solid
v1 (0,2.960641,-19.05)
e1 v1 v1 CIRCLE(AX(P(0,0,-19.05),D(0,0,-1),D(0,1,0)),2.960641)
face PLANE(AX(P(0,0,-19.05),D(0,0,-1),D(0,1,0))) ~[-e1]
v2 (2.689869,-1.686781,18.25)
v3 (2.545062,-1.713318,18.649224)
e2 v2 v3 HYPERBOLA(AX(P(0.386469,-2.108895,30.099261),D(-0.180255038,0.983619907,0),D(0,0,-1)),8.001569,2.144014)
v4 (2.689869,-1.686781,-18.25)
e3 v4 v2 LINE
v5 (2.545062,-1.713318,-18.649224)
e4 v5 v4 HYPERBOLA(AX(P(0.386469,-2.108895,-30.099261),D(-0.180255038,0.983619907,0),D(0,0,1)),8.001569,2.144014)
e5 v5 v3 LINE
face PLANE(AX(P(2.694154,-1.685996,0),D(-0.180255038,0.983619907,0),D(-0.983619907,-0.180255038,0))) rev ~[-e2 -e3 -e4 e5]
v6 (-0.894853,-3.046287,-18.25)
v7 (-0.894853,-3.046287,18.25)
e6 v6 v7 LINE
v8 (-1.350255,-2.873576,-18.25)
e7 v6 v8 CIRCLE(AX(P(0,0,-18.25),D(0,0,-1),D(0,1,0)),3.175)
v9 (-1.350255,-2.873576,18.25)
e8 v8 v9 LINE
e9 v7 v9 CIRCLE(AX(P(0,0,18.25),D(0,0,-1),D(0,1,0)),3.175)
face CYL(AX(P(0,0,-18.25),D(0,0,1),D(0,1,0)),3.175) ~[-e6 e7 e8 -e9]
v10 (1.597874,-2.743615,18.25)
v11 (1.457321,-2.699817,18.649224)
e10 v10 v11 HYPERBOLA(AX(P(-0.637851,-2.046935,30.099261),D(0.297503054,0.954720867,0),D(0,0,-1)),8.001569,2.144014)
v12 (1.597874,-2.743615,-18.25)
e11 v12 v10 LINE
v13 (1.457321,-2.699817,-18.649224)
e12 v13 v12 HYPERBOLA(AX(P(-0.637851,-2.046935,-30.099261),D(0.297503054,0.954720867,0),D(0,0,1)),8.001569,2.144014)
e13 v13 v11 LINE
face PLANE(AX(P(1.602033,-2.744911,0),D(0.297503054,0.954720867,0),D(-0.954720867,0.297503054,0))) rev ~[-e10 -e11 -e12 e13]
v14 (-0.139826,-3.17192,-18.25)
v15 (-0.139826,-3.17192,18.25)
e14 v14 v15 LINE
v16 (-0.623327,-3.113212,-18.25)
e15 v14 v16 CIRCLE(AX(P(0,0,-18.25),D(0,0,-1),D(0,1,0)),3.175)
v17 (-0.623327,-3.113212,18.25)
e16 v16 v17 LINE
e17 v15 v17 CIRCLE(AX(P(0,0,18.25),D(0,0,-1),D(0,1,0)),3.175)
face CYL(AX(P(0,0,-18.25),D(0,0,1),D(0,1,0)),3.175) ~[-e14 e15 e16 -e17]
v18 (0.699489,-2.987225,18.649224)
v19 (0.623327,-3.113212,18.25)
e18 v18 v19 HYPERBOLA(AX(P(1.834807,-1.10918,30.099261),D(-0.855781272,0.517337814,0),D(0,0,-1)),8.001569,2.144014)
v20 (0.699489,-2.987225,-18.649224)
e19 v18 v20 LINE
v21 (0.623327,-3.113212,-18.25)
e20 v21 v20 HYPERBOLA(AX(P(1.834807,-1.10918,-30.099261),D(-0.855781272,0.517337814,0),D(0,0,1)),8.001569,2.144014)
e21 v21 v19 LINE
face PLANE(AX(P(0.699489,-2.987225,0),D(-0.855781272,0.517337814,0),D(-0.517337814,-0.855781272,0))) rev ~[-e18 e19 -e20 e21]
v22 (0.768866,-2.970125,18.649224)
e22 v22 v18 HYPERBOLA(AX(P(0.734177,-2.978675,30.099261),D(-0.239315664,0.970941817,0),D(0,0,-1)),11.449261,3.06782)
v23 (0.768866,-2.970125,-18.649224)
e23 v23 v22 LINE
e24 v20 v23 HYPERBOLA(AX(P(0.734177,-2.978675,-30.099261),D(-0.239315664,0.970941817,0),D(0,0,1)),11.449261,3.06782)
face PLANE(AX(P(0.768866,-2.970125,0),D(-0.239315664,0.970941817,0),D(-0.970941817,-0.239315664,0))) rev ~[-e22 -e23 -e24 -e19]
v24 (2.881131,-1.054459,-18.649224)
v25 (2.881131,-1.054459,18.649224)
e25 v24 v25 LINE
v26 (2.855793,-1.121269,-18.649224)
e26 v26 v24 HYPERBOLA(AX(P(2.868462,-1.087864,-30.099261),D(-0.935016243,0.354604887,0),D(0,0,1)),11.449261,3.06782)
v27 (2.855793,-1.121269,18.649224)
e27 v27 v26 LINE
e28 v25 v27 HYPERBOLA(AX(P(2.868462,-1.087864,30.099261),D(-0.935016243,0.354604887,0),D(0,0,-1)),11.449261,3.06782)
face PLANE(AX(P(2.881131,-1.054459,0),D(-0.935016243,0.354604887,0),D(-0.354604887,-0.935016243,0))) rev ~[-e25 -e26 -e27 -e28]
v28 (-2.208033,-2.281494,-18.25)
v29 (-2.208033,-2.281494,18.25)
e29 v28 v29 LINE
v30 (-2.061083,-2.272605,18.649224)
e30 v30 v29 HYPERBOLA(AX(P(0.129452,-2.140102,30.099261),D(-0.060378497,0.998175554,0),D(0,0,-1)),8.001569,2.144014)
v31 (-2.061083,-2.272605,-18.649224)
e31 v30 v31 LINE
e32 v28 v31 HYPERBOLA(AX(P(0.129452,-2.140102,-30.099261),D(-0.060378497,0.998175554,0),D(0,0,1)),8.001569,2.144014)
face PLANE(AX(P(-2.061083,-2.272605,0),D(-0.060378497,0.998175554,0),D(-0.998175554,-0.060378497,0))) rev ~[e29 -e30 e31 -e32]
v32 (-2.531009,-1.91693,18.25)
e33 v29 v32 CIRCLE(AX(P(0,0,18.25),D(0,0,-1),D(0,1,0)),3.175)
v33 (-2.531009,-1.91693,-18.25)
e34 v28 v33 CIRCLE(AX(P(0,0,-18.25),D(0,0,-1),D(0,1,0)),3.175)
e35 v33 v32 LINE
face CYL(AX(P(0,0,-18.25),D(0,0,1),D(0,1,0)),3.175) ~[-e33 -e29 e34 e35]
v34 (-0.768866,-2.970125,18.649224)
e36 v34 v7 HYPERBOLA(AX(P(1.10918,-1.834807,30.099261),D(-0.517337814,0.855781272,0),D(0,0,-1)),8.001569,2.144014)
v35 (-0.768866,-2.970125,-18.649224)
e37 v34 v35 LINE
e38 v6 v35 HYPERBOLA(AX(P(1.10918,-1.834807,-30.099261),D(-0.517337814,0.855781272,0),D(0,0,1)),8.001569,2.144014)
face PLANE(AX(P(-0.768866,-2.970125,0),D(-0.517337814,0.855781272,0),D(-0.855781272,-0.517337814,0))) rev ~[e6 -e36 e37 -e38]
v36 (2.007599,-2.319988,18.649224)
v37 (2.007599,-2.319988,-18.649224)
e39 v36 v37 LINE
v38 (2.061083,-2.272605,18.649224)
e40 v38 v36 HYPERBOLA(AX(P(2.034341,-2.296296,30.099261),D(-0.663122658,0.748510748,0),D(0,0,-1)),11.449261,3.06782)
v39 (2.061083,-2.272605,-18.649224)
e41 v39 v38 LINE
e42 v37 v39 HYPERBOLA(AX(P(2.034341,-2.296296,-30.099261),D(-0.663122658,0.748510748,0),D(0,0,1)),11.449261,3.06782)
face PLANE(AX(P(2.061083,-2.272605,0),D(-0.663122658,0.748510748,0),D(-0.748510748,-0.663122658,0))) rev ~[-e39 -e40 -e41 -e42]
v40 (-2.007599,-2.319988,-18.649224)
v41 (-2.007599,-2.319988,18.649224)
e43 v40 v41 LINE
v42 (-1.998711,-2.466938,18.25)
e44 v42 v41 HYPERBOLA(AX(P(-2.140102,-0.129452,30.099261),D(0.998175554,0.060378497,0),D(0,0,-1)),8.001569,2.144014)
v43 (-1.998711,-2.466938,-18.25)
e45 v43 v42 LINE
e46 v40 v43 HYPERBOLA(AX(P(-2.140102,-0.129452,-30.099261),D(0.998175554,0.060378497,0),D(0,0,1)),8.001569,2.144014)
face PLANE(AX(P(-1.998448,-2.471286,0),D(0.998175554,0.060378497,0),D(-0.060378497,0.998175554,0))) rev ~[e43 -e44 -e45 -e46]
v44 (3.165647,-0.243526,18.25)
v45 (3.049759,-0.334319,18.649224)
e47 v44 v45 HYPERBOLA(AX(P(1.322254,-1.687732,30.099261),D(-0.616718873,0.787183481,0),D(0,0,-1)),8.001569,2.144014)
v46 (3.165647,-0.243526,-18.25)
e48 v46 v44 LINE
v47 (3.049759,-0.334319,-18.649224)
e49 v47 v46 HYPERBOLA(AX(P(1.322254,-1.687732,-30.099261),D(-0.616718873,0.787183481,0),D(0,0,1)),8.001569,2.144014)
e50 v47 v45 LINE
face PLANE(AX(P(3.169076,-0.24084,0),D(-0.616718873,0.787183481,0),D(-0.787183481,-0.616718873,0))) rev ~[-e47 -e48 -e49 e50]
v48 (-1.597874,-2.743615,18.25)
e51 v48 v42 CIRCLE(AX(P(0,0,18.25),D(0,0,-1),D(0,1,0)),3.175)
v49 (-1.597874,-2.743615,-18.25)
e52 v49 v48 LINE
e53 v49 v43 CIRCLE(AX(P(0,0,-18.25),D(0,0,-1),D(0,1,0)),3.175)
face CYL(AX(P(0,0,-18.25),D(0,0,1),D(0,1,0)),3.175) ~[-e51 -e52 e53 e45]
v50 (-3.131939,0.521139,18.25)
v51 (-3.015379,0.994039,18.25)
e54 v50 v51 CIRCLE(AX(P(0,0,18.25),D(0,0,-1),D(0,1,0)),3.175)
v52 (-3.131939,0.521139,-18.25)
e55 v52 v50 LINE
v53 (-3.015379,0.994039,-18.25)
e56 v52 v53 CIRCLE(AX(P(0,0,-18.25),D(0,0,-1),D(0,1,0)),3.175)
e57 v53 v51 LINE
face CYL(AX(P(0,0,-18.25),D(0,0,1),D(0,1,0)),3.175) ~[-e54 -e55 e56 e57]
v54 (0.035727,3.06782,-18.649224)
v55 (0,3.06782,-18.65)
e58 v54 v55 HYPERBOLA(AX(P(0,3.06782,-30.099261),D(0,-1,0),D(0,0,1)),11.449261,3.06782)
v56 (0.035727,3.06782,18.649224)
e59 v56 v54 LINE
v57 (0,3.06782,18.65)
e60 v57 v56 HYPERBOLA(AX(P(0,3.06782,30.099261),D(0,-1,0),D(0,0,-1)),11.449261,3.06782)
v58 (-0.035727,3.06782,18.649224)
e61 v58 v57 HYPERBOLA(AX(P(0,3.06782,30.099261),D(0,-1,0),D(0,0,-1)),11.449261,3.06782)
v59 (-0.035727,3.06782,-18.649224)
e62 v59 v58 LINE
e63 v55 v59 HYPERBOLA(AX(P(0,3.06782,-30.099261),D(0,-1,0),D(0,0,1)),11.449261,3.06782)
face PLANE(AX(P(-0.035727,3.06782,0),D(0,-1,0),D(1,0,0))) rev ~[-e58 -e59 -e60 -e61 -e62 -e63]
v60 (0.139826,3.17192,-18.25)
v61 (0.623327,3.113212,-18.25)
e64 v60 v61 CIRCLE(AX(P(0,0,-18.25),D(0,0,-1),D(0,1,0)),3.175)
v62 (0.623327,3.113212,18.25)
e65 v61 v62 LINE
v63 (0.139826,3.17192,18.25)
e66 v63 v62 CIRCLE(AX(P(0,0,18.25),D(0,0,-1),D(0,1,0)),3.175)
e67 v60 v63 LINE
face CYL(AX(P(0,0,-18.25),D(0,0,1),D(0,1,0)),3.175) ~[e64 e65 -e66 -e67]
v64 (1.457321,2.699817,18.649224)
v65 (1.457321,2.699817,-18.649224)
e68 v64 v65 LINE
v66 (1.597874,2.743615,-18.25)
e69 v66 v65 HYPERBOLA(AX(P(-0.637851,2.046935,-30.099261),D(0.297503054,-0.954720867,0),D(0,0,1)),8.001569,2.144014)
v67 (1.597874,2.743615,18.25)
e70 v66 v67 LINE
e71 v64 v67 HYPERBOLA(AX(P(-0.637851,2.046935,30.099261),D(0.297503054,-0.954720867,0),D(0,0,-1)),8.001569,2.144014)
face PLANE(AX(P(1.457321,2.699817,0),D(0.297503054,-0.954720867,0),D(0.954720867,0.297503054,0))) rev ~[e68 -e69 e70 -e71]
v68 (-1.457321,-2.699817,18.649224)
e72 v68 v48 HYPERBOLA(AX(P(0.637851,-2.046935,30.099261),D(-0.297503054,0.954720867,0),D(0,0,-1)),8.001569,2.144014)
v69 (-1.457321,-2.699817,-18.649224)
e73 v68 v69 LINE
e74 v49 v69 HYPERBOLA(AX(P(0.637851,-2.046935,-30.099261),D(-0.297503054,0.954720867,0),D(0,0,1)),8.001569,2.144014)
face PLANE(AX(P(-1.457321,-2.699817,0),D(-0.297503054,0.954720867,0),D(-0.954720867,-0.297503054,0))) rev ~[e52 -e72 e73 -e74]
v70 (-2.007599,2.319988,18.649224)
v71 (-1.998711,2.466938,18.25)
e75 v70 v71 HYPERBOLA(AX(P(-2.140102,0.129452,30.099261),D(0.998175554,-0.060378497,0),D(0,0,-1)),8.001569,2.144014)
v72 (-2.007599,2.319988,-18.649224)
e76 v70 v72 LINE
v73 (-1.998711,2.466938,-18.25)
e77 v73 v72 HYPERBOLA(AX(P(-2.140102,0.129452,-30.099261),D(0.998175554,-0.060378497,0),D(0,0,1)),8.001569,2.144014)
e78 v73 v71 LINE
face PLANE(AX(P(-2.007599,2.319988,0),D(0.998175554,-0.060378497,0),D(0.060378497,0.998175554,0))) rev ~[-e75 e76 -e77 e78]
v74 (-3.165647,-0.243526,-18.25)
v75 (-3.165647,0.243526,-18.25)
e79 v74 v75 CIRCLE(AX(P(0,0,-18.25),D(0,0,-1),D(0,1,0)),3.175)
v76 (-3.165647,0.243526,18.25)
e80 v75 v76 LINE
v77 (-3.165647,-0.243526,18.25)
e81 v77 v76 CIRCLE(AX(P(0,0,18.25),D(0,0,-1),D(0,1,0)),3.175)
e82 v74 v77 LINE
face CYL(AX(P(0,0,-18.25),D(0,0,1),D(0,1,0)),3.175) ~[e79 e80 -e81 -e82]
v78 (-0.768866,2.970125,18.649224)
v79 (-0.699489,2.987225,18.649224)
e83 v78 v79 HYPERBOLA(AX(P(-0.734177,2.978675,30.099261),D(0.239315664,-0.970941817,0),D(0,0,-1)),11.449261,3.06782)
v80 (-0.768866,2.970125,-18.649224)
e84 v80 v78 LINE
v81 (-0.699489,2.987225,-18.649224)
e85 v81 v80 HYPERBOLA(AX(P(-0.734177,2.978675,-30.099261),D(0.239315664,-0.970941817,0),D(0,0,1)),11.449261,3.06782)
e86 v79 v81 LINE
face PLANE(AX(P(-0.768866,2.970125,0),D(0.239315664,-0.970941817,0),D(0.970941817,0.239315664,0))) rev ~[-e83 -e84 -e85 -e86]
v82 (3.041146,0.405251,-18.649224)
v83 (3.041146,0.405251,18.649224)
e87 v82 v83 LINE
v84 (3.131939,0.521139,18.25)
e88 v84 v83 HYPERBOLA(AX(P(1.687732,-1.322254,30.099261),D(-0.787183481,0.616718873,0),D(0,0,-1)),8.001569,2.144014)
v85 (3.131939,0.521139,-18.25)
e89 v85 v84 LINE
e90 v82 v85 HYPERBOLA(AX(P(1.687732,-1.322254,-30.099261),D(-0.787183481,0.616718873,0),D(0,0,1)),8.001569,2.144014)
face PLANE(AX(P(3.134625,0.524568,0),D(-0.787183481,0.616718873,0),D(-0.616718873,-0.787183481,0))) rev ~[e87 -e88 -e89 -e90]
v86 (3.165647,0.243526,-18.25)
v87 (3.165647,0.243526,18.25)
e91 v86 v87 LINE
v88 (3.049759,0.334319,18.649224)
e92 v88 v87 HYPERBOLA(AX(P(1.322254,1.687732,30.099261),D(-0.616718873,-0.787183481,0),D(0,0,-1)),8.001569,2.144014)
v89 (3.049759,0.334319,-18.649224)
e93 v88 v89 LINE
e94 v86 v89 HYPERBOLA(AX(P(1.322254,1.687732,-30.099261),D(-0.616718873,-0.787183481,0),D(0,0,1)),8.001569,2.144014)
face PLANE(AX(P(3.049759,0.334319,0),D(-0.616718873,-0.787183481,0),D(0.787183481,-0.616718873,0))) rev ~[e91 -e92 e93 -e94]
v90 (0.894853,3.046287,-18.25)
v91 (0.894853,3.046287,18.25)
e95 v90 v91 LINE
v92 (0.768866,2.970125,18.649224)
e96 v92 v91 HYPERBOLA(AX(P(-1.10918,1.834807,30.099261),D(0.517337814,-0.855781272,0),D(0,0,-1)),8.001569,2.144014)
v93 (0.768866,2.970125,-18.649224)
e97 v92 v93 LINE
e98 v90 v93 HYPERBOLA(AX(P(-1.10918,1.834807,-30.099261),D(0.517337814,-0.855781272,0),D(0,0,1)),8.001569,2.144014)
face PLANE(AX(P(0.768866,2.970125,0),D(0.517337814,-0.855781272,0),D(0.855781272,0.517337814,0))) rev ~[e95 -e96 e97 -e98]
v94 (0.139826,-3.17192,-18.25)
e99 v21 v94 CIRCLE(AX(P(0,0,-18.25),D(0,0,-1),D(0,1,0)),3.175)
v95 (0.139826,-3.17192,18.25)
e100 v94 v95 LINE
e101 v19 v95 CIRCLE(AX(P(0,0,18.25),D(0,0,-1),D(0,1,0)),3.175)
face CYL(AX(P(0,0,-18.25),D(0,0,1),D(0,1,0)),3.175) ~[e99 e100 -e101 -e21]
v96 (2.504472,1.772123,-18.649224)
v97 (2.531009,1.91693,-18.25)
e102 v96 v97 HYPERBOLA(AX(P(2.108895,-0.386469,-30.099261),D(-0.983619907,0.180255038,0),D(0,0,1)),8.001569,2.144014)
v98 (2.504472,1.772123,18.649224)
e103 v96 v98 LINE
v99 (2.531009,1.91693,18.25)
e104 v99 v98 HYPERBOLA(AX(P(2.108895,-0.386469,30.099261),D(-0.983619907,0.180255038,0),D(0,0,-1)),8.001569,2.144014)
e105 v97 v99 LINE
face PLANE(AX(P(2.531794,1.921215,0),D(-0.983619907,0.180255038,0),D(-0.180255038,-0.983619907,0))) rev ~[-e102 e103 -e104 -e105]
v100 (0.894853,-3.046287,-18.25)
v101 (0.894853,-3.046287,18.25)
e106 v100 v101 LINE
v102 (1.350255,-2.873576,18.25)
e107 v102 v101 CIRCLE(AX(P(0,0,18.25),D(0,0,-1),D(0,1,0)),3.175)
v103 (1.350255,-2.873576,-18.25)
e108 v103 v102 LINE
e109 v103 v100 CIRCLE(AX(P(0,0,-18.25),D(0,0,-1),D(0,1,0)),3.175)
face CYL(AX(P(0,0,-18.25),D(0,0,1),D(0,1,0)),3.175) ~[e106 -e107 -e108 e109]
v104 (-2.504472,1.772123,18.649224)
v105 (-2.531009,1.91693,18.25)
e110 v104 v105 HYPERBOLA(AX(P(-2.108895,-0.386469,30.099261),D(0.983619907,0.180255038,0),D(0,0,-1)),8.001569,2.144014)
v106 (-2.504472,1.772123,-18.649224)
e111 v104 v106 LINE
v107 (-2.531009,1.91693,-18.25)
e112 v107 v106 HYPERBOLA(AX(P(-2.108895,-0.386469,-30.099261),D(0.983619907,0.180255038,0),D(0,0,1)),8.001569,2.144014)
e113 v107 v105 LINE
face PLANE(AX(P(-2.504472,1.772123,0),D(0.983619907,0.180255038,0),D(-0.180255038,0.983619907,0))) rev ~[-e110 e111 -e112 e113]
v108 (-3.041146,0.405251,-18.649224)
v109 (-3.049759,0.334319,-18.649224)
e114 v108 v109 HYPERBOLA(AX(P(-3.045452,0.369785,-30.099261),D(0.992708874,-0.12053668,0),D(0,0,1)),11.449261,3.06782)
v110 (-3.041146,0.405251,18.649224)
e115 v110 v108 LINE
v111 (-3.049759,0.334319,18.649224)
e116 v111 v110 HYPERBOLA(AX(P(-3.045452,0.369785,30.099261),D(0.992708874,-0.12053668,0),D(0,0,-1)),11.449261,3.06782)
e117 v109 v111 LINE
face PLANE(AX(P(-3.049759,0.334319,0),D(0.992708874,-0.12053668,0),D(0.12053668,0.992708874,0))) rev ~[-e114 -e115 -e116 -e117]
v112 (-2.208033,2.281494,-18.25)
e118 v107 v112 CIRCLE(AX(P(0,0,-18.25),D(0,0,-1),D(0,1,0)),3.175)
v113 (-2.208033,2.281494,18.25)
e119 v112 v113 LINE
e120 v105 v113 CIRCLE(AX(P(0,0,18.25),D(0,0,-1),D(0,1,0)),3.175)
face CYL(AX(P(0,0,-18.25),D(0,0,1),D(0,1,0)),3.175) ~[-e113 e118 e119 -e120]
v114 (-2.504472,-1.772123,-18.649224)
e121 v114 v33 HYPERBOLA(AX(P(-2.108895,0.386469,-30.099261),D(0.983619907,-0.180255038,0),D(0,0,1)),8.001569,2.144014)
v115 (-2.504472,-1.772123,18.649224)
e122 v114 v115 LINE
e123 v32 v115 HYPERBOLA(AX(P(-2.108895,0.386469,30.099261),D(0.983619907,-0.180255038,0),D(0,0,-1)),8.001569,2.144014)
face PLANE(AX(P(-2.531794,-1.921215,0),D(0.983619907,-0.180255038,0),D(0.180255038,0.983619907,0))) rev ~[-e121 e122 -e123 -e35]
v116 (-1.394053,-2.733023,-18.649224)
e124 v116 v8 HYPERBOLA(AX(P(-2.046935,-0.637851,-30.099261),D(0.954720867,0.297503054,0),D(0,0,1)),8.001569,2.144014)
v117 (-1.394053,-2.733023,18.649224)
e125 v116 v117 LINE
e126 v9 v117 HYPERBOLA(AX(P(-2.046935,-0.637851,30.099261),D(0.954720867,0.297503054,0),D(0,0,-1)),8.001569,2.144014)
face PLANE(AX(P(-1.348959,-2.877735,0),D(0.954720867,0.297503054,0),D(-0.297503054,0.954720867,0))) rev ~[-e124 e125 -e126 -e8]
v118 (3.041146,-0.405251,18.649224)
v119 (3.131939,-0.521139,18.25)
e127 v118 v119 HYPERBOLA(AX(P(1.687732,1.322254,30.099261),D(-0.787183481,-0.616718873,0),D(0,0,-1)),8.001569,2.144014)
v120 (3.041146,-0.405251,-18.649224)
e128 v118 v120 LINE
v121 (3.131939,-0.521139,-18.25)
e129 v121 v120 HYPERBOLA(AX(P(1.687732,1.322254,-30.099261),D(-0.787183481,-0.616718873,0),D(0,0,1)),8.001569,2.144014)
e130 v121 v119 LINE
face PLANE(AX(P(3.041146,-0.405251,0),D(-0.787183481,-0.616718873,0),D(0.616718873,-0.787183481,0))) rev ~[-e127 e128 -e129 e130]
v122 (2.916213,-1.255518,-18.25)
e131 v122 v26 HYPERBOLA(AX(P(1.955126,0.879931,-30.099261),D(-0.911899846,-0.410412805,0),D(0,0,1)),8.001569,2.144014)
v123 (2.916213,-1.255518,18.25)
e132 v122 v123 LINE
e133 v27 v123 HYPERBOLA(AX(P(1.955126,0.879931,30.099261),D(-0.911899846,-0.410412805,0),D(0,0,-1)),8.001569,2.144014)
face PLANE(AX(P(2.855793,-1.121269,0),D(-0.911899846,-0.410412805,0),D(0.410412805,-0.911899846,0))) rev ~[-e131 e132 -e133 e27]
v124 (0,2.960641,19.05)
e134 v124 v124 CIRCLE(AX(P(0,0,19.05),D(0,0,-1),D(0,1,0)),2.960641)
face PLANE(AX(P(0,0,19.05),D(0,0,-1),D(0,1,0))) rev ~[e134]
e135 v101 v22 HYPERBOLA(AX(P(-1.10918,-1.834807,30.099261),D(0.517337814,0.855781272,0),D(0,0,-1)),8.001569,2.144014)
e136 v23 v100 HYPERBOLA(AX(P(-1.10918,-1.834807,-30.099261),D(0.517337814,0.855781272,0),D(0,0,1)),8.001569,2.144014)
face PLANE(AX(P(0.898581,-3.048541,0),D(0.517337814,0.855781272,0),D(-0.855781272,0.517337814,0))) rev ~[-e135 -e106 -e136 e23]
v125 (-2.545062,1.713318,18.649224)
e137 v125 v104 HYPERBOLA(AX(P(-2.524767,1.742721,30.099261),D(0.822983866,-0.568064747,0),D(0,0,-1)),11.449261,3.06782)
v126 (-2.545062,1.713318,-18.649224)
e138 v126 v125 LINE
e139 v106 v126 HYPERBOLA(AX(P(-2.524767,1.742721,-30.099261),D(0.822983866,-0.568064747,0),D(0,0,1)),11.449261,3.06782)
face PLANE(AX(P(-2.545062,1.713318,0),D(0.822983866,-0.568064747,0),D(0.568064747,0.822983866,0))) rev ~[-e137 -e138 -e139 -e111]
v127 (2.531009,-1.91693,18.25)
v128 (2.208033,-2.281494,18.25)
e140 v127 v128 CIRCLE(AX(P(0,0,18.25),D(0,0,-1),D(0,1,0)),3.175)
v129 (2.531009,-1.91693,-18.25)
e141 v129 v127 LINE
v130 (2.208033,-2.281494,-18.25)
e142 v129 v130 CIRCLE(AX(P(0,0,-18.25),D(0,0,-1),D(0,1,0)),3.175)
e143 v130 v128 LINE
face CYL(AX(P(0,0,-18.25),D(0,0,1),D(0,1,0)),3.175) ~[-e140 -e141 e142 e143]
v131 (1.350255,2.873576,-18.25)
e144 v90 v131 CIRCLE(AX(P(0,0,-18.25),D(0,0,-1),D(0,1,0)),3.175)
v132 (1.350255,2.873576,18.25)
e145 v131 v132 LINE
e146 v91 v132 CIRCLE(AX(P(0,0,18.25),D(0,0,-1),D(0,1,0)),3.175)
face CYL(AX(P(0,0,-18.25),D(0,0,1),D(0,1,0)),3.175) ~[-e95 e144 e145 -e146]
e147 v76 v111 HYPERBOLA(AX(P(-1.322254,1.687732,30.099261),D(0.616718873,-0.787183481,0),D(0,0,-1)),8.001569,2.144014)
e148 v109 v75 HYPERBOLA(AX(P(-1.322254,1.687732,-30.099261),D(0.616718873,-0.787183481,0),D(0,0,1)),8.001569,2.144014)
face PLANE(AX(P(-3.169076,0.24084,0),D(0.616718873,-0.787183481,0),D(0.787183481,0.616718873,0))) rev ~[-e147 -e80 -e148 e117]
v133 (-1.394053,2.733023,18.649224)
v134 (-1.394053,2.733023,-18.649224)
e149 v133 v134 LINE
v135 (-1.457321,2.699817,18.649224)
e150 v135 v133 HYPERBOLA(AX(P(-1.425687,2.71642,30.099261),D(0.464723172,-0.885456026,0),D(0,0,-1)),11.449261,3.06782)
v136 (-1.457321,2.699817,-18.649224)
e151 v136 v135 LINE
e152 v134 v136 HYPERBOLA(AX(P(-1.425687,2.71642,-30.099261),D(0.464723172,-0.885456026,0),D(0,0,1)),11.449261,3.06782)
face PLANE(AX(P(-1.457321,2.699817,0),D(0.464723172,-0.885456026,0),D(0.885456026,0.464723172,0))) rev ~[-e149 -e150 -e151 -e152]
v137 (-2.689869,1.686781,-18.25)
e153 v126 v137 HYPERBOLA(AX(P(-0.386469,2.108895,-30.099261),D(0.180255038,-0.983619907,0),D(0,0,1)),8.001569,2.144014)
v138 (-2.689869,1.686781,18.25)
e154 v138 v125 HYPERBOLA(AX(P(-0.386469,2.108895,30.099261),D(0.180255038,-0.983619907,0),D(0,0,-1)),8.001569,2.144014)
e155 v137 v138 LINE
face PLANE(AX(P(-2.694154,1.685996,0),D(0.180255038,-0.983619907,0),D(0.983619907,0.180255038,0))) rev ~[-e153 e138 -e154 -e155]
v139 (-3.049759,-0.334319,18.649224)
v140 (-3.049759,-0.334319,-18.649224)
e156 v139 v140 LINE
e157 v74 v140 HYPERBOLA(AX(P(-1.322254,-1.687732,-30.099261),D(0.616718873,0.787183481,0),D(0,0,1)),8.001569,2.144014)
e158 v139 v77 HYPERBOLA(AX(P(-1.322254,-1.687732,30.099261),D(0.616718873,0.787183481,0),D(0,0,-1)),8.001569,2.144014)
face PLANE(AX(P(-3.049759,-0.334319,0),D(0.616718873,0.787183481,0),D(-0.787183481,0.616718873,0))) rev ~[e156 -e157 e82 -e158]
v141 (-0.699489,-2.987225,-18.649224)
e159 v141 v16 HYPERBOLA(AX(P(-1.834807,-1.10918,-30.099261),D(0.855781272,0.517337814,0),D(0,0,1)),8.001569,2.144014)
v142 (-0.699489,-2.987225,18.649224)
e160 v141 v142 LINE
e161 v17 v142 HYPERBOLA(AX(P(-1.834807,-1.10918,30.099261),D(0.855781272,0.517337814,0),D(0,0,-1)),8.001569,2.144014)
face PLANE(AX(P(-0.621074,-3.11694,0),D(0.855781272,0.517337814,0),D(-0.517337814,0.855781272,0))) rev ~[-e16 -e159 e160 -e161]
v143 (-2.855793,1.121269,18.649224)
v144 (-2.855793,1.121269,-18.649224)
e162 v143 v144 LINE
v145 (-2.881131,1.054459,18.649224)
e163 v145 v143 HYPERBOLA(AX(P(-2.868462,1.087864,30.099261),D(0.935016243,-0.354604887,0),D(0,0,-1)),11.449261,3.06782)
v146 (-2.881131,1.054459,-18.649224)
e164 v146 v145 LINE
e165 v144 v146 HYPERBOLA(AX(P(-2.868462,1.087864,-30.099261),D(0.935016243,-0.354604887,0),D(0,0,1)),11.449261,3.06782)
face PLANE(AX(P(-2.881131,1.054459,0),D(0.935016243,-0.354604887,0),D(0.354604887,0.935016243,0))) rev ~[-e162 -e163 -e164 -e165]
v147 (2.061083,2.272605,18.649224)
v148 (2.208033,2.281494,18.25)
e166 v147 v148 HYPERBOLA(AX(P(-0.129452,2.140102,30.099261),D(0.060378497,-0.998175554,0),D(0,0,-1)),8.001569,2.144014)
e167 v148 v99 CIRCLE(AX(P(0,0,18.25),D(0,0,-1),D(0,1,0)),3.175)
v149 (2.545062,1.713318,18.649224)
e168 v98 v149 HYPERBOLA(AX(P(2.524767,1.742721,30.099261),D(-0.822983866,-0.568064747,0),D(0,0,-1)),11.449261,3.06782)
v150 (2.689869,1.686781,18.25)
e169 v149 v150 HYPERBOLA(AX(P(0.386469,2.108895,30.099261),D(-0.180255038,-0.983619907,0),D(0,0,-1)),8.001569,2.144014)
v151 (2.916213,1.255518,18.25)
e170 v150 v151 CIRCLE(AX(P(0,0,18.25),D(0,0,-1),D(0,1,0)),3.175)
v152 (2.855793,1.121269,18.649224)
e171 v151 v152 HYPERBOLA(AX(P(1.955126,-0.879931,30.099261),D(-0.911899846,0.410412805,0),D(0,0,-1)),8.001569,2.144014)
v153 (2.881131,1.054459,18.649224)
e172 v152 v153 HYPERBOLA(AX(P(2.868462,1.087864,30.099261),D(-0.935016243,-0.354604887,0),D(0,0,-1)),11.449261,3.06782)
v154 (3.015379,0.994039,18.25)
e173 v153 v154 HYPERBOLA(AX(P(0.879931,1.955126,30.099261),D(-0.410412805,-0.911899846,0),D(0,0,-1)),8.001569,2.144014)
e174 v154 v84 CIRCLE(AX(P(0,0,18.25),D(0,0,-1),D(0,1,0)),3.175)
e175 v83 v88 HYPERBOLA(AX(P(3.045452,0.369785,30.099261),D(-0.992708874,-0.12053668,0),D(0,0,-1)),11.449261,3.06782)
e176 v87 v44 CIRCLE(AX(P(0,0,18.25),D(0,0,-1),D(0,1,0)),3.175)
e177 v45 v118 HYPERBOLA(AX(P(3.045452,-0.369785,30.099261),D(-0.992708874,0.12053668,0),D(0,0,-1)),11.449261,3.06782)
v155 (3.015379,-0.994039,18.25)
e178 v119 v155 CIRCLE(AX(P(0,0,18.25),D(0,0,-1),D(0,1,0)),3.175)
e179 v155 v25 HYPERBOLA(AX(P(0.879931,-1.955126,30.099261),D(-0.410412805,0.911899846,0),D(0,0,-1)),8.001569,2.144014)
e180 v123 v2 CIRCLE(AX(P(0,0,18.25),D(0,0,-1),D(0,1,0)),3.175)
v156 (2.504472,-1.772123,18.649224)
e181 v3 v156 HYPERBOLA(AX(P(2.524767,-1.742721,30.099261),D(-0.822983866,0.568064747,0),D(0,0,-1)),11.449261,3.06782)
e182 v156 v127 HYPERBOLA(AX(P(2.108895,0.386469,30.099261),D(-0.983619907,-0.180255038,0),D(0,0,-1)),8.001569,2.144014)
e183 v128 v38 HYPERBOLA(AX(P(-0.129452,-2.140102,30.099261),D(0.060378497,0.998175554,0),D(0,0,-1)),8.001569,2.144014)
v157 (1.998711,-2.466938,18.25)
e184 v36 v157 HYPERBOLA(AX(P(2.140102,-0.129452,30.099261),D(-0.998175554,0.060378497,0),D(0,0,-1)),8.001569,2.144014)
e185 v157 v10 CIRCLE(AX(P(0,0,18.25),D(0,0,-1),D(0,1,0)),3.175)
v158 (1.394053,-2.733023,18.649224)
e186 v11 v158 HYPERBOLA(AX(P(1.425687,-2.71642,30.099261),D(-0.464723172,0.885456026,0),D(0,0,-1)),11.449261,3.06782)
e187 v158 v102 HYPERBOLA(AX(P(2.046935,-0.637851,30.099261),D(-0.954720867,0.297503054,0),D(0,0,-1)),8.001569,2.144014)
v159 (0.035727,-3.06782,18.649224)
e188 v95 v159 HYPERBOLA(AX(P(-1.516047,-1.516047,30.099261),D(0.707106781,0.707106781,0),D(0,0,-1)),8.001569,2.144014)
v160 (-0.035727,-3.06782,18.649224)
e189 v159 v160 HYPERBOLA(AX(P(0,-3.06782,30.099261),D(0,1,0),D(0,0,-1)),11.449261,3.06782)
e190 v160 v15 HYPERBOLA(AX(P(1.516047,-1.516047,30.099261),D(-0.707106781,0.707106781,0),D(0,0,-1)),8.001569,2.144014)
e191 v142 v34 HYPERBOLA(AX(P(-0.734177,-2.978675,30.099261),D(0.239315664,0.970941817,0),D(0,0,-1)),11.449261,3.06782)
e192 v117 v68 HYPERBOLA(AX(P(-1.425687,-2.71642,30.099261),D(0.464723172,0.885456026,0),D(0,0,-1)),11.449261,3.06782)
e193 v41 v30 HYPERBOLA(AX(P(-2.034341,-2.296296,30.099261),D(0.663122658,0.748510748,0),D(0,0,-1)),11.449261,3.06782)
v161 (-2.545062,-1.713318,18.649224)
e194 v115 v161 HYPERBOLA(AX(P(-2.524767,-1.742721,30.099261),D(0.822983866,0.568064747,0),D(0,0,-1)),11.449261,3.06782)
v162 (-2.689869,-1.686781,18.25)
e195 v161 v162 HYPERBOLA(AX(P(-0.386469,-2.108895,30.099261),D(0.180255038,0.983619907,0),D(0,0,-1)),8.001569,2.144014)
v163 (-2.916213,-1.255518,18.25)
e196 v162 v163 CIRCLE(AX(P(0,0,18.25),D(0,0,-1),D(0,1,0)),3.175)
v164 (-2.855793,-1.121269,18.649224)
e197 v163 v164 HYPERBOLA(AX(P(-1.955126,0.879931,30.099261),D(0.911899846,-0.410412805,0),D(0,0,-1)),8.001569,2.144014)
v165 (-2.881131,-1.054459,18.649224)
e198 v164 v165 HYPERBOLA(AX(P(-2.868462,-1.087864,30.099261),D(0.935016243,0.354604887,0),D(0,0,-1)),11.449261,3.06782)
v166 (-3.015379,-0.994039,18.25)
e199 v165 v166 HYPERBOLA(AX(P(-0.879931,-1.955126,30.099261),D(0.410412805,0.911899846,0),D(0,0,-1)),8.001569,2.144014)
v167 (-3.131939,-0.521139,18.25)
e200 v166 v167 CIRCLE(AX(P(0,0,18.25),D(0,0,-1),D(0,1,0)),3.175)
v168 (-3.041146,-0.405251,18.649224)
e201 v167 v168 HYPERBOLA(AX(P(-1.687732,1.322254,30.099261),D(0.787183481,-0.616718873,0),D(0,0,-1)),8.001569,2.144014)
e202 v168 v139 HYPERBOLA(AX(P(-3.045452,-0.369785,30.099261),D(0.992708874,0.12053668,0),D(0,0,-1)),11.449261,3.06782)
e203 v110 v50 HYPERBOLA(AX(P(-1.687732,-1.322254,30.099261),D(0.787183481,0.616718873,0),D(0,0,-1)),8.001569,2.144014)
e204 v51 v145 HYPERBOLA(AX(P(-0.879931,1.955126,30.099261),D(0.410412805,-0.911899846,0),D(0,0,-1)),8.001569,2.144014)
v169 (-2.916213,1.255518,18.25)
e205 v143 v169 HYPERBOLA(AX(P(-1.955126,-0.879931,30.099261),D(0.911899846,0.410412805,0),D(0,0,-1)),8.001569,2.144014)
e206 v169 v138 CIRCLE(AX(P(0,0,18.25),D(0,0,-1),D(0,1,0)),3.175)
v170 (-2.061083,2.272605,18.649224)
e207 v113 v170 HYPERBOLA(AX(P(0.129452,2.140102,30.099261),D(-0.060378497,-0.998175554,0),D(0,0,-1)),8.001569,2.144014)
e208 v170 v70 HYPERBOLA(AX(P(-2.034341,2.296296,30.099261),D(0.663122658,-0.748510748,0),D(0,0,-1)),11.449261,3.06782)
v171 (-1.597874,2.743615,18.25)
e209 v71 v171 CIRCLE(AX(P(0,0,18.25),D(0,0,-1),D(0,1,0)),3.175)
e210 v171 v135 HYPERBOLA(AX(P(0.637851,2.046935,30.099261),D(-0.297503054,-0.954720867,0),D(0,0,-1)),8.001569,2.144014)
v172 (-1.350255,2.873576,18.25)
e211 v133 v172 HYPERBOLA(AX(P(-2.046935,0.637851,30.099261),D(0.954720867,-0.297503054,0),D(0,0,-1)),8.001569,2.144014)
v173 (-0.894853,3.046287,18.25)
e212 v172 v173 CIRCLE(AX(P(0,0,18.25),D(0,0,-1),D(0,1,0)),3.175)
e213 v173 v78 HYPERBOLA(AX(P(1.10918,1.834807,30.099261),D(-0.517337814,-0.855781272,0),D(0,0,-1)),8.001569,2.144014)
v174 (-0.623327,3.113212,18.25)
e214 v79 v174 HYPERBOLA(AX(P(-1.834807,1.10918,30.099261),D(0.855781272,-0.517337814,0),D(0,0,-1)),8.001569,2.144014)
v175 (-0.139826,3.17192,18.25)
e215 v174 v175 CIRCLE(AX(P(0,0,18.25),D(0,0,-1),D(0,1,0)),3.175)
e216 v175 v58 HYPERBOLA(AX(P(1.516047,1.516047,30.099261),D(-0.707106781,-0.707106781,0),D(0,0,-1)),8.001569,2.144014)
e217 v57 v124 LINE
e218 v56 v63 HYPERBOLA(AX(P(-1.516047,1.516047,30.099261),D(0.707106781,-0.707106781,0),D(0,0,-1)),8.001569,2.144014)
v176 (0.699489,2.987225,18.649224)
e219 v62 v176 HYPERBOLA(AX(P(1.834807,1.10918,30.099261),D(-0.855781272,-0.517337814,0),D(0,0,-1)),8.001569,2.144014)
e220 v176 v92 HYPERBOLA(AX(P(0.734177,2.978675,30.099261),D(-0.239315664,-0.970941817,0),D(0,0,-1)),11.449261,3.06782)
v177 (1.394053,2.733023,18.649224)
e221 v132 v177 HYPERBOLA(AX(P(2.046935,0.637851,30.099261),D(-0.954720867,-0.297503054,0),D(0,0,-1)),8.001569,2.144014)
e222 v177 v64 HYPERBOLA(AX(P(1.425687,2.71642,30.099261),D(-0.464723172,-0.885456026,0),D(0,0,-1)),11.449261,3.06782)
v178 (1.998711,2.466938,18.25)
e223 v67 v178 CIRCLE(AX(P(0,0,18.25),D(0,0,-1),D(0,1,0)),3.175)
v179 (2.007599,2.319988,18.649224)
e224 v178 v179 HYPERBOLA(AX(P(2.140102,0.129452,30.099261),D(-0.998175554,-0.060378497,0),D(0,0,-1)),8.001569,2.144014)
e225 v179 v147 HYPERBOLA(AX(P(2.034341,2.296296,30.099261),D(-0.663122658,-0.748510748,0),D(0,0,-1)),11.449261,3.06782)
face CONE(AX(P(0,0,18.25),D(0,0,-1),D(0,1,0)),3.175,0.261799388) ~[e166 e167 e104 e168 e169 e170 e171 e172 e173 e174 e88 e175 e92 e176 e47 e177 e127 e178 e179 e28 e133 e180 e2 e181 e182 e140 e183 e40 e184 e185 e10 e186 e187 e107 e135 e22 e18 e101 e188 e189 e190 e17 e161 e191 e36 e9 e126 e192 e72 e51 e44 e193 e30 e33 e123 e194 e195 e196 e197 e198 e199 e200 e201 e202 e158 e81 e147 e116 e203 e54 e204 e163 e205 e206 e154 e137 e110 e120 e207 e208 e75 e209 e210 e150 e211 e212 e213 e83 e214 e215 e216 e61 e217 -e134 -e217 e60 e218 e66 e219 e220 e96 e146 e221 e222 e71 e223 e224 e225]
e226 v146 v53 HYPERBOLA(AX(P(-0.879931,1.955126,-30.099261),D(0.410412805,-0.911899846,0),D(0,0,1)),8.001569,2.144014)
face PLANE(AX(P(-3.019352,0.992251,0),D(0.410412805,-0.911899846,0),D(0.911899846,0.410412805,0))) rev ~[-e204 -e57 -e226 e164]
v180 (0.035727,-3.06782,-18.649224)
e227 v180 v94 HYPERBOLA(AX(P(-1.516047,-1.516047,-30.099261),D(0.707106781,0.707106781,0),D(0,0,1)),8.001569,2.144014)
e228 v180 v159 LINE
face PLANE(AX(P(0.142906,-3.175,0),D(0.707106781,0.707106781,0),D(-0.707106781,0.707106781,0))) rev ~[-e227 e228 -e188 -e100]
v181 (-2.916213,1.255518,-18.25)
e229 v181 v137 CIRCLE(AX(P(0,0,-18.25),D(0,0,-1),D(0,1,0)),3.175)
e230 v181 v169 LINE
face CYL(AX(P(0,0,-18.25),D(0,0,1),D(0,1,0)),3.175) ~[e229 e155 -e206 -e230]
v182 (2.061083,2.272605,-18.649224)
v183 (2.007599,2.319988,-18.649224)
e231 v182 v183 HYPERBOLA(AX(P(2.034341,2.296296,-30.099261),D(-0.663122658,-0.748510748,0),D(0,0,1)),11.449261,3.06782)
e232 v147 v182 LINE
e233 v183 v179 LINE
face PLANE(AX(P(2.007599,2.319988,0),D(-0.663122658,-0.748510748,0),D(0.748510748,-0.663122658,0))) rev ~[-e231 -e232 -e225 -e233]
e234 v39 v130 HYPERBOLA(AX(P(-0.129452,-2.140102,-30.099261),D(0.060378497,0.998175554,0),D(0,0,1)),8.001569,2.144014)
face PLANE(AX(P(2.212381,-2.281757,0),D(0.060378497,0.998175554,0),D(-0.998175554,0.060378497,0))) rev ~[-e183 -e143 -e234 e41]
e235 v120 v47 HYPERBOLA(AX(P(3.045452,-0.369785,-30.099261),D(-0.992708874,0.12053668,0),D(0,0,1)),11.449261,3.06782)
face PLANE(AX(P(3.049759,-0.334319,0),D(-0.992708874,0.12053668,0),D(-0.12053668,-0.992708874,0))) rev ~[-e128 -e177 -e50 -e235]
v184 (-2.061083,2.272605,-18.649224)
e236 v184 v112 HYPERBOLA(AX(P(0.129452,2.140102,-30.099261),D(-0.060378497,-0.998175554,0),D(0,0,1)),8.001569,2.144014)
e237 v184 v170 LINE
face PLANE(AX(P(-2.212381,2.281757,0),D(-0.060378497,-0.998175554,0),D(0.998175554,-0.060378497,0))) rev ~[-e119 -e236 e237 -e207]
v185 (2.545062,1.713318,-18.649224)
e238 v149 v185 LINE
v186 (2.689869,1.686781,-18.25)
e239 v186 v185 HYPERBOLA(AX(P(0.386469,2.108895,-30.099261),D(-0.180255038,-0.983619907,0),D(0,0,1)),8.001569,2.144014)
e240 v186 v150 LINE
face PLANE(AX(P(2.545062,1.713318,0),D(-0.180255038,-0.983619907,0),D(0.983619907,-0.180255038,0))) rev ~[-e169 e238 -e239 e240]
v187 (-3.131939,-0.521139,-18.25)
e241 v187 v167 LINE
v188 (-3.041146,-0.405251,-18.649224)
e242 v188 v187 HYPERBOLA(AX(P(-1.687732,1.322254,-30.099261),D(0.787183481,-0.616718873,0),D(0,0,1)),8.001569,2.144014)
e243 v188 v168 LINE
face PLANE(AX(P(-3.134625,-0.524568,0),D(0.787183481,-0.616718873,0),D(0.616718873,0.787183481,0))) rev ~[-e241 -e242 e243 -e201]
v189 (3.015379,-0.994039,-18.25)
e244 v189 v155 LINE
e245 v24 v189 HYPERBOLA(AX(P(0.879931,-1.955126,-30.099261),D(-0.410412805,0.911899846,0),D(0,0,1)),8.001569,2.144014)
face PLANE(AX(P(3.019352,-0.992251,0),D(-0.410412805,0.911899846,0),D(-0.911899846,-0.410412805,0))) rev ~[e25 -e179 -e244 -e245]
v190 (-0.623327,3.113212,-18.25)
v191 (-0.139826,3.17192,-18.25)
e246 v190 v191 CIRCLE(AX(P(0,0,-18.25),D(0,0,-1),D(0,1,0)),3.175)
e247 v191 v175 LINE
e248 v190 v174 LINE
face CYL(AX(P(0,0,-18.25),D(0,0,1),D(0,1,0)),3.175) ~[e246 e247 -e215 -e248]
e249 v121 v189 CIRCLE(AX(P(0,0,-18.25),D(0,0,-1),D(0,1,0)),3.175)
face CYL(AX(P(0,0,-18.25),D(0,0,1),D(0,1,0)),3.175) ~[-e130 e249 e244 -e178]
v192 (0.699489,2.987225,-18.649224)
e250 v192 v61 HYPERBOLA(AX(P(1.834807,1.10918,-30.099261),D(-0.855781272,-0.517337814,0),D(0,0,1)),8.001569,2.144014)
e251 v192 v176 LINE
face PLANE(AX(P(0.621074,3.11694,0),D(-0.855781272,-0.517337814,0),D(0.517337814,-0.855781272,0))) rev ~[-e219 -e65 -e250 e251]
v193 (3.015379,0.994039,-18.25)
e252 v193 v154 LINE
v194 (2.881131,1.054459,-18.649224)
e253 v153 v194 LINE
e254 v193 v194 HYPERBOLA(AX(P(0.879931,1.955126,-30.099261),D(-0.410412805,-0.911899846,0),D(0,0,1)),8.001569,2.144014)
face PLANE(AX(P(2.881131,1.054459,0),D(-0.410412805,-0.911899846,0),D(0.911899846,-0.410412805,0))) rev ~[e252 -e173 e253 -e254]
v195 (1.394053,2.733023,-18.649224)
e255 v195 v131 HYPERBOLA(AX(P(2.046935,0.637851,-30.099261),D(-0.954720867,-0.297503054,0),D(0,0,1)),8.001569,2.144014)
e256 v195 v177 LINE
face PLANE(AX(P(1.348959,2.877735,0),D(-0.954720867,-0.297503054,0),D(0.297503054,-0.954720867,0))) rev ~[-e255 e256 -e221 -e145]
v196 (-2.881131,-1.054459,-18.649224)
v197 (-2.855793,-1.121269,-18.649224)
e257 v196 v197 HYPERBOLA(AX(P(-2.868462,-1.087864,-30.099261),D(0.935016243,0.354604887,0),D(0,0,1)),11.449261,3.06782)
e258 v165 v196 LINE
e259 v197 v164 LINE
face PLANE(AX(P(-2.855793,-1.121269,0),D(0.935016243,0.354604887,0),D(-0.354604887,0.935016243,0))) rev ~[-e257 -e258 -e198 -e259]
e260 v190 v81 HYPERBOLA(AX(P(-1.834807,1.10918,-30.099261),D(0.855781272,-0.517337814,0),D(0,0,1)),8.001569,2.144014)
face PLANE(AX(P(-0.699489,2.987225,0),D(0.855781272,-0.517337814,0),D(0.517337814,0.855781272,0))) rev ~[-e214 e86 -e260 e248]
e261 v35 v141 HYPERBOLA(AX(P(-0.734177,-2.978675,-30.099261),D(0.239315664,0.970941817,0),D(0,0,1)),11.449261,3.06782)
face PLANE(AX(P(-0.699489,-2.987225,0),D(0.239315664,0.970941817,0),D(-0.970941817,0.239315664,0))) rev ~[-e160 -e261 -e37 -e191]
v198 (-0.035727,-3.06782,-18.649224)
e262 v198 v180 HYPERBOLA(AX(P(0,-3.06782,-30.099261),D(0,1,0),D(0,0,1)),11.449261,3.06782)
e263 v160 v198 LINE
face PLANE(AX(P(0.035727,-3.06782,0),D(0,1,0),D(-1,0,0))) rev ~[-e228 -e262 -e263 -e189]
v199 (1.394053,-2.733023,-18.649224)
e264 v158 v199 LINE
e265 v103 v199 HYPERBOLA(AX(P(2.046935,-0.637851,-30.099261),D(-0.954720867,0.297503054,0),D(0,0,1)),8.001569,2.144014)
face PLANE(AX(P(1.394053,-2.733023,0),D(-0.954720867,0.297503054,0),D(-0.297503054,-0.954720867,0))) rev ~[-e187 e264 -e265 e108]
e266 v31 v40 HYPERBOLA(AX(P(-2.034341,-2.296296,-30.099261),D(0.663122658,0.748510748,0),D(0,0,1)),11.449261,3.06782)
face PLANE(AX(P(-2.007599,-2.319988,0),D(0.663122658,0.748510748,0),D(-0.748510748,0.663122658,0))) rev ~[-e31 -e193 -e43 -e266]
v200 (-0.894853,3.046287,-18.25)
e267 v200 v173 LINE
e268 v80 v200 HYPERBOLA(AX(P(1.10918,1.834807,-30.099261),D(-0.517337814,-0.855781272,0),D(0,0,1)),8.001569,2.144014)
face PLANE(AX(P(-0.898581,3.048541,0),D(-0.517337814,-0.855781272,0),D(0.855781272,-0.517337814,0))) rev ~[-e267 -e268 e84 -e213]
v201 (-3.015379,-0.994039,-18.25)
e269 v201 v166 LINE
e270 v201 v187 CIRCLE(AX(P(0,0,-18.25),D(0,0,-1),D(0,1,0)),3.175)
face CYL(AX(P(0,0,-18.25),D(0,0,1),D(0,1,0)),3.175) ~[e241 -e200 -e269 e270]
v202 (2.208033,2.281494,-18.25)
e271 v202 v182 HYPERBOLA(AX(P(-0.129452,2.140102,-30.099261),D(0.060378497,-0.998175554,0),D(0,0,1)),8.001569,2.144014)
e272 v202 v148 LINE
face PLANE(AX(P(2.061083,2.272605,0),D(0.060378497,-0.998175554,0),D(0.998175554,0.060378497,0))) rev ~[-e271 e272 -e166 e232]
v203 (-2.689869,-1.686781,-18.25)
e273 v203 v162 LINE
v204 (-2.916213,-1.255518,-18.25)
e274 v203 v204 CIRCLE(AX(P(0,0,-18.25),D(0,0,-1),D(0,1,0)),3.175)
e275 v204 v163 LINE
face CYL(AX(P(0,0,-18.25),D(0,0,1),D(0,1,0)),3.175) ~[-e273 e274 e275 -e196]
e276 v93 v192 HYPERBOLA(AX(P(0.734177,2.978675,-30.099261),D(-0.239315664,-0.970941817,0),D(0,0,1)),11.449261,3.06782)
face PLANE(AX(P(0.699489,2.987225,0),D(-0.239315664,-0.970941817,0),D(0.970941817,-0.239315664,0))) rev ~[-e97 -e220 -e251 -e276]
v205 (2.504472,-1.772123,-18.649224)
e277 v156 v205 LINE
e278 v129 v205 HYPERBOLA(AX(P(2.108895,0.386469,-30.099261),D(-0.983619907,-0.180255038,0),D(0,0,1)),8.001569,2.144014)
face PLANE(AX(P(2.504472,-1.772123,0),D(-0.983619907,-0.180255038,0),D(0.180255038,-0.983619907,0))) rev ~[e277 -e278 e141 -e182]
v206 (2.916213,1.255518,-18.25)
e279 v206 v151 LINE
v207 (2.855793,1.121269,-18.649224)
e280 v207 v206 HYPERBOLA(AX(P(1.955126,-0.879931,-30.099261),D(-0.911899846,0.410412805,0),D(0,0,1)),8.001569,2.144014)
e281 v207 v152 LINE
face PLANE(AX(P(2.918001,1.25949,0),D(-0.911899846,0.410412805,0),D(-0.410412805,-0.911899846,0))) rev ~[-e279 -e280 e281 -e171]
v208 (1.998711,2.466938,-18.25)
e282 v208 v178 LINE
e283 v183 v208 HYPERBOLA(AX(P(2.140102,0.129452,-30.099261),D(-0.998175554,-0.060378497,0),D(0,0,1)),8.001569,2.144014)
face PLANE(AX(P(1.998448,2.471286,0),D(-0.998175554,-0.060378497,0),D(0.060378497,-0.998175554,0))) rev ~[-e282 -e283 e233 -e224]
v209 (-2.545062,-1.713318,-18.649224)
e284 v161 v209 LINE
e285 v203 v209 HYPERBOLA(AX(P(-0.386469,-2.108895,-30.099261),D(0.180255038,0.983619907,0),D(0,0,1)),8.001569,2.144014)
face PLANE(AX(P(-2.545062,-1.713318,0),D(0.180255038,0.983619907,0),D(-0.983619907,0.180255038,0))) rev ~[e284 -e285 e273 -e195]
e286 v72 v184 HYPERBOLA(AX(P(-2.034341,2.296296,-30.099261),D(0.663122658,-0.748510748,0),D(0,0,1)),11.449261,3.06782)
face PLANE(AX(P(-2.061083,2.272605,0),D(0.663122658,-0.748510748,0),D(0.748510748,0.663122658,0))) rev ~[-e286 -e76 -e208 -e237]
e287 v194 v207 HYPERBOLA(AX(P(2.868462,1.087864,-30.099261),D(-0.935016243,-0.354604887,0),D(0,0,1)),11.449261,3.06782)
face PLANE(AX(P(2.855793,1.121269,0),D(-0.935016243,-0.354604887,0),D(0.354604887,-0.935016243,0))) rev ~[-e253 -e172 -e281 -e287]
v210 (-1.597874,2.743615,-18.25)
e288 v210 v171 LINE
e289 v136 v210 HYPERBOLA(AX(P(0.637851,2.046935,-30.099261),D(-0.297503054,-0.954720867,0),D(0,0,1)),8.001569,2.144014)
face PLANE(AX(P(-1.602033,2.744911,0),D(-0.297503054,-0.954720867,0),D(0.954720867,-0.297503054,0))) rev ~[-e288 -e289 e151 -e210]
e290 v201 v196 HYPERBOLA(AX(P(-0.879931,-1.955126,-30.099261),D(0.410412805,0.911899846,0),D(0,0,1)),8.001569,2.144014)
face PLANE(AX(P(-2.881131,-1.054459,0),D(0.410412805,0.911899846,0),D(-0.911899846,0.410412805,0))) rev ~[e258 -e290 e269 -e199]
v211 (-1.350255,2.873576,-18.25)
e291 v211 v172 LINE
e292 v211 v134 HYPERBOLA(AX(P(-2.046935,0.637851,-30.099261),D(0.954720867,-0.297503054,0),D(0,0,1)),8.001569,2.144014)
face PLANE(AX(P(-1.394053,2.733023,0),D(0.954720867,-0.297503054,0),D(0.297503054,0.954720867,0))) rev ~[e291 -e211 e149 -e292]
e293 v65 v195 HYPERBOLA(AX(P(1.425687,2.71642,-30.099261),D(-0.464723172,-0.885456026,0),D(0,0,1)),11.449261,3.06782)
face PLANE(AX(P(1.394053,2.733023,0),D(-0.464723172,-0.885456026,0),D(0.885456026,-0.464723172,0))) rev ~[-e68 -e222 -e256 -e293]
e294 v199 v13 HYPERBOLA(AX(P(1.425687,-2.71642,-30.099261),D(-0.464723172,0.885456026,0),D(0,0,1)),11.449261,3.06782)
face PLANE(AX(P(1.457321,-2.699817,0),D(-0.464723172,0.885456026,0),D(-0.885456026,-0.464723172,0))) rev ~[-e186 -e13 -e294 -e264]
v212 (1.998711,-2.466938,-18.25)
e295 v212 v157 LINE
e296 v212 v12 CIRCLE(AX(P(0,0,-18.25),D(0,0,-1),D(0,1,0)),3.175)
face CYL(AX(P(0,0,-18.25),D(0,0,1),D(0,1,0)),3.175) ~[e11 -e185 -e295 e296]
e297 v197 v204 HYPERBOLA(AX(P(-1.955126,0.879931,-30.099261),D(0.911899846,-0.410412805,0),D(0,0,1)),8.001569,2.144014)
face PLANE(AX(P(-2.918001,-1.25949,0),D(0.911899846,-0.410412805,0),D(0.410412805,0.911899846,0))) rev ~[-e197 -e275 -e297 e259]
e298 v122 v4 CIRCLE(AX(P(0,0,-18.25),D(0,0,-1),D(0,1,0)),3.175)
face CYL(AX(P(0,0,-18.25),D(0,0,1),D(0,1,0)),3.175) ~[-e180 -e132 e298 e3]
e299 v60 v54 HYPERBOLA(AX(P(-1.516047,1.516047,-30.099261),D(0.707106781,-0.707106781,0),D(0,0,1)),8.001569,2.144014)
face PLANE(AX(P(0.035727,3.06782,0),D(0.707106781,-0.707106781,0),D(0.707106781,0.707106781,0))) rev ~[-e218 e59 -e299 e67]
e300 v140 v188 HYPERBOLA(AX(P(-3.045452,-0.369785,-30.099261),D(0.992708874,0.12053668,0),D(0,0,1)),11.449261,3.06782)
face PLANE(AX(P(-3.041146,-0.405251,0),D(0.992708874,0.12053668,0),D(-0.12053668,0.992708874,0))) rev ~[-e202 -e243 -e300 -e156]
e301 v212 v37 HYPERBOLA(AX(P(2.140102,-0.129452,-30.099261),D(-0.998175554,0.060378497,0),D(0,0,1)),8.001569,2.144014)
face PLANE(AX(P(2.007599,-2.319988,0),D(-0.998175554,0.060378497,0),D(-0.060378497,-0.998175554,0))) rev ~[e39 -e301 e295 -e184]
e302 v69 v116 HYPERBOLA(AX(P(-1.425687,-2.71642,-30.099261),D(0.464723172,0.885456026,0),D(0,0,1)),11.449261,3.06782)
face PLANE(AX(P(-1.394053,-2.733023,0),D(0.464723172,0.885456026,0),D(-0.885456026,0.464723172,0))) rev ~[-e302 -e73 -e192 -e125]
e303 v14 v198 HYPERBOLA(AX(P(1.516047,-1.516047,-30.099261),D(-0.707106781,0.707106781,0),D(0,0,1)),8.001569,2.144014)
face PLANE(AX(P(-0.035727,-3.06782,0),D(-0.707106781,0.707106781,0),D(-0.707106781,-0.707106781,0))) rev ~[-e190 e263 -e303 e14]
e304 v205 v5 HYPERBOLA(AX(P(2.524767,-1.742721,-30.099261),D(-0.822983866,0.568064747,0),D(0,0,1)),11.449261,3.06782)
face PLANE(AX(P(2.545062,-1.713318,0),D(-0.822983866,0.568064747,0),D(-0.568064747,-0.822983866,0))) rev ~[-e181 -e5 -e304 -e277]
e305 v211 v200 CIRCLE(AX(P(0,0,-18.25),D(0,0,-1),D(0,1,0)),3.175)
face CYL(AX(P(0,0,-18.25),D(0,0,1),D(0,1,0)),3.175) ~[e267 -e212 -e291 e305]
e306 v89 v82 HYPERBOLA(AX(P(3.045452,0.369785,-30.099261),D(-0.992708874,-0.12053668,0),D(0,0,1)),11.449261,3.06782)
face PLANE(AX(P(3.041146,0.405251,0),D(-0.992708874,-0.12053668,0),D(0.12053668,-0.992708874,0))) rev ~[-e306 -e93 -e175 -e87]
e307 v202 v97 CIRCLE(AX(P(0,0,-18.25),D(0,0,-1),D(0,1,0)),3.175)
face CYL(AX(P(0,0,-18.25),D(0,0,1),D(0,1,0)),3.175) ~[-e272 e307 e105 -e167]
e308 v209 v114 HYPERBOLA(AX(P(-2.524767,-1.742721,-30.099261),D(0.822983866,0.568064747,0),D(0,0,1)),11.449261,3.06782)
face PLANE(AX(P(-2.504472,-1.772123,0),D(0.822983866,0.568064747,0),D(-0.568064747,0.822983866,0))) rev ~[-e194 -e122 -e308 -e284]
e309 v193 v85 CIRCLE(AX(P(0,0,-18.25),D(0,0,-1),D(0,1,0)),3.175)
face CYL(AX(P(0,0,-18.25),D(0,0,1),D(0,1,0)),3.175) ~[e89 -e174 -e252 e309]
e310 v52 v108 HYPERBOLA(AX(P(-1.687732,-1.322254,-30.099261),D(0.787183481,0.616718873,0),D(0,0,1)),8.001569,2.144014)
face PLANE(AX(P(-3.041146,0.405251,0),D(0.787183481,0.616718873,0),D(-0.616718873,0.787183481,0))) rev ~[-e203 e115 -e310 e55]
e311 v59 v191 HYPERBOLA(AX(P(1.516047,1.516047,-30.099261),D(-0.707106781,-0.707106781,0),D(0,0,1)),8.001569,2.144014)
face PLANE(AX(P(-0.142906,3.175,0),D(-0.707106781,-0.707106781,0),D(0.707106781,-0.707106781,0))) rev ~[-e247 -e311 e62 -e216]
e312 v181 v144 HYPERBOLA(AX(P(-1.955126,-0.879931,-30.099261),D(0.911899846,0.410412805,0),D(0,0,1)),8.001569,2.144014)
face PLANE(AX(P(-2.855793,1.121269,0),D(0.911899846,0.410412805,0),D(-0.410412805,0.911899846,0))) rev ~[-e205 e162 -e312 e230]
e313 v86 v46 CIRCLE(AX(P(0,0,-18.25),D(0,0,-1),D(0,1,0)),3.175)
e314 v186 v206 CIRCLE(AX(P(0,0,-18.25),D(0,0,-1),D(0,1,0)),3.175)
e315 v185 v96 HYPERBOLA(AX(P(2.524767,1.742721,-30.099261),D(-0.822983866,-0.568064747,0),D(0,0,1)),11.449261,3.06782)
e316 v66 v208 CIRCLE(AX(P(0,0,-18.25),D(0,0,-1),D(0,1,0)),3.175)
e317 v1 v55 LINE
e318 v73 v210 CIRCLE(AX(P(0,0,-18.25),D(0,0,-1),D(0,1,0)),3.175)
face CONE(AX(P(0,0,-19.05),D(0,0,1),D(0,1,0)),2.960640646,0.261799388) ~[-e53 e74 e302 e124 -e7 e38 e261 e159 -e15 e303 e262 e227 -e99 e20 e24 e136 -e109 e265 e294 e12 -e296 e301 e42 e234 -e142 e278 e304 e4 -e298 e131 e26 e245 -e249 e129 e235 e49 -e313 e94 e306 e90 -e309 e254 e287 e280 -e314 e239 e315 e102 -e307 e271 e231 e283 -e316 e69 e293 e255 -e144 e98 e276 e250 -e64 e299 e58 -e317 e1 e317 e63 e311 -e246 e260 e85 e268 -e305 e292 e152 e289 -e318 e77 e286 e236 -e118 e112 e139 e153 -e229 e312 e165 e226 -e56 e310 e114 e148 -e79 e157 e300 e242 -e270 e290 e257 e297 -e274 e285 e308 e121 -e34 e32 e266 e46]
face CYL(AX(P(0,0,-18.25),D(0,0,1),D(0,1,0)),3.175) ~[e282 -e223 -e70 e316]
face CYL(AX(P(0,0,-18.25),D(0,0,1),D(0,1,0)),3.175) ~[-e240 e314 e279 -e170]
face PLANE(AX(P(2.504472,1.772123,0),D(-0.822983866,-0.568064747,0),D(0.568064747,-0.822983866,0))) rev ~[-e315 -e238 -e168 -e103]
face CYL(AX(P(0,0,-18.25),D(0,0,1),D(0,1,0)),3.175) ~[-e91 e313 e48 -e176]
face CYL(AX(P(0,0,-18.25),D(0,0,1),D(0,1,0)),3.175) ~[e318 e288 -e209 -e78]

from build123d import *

# Parameters (mm, degrees)
CUT_EXTRUDE1_DEPTH = 20.05
CIRPATTERN1_COUNT  = 26


with BuildPart() as part:
    # Sketch3 → Revolve1 (revolve)
    with BuildSketch(Plane(origin=(0, 0, 0), x_dir=(0, 0, -1), z_dir=(1, 0, 0))):
        Polygon((-19.05, 2.960640646), (-19.05, 0), (19.05, 0), (19.05, 2.960640646), (18.25, 3.175), (-18.25, 3.175), align=None)
    revolve(axis=Axis((0, 0, 19.05), (0, 0, -1)))

    # Sketch5 → Cut-Extrude1 (cut, symmetric)
    with BuildSketch(Plane.XY):
        Polygon((0.142906236, 3.175), (-0.142906236, 3.175), (-0.035726559, 3.067820323), (0.035726559, 3.067820323), align=None)
    cut_extrude1 = extrude(amount=CUT_EXTRUDE1_DEPTH, both=True, mode=Mode.SUBTRACT)

    # CirPattern1: Cut-Extrude1 ×26 about axis
    cirpattern1_axis = Axis((0, 0, 0), (0, 0, 1))
    for i in range(1, CIRPATTERN1_COUNT):
        add(cut_extrude1.rotate(cirpattern1_axis, i * 360 / CIRPATTERN1_COUNT), mode=Mode.SUBTRACT)


solid = part.part
